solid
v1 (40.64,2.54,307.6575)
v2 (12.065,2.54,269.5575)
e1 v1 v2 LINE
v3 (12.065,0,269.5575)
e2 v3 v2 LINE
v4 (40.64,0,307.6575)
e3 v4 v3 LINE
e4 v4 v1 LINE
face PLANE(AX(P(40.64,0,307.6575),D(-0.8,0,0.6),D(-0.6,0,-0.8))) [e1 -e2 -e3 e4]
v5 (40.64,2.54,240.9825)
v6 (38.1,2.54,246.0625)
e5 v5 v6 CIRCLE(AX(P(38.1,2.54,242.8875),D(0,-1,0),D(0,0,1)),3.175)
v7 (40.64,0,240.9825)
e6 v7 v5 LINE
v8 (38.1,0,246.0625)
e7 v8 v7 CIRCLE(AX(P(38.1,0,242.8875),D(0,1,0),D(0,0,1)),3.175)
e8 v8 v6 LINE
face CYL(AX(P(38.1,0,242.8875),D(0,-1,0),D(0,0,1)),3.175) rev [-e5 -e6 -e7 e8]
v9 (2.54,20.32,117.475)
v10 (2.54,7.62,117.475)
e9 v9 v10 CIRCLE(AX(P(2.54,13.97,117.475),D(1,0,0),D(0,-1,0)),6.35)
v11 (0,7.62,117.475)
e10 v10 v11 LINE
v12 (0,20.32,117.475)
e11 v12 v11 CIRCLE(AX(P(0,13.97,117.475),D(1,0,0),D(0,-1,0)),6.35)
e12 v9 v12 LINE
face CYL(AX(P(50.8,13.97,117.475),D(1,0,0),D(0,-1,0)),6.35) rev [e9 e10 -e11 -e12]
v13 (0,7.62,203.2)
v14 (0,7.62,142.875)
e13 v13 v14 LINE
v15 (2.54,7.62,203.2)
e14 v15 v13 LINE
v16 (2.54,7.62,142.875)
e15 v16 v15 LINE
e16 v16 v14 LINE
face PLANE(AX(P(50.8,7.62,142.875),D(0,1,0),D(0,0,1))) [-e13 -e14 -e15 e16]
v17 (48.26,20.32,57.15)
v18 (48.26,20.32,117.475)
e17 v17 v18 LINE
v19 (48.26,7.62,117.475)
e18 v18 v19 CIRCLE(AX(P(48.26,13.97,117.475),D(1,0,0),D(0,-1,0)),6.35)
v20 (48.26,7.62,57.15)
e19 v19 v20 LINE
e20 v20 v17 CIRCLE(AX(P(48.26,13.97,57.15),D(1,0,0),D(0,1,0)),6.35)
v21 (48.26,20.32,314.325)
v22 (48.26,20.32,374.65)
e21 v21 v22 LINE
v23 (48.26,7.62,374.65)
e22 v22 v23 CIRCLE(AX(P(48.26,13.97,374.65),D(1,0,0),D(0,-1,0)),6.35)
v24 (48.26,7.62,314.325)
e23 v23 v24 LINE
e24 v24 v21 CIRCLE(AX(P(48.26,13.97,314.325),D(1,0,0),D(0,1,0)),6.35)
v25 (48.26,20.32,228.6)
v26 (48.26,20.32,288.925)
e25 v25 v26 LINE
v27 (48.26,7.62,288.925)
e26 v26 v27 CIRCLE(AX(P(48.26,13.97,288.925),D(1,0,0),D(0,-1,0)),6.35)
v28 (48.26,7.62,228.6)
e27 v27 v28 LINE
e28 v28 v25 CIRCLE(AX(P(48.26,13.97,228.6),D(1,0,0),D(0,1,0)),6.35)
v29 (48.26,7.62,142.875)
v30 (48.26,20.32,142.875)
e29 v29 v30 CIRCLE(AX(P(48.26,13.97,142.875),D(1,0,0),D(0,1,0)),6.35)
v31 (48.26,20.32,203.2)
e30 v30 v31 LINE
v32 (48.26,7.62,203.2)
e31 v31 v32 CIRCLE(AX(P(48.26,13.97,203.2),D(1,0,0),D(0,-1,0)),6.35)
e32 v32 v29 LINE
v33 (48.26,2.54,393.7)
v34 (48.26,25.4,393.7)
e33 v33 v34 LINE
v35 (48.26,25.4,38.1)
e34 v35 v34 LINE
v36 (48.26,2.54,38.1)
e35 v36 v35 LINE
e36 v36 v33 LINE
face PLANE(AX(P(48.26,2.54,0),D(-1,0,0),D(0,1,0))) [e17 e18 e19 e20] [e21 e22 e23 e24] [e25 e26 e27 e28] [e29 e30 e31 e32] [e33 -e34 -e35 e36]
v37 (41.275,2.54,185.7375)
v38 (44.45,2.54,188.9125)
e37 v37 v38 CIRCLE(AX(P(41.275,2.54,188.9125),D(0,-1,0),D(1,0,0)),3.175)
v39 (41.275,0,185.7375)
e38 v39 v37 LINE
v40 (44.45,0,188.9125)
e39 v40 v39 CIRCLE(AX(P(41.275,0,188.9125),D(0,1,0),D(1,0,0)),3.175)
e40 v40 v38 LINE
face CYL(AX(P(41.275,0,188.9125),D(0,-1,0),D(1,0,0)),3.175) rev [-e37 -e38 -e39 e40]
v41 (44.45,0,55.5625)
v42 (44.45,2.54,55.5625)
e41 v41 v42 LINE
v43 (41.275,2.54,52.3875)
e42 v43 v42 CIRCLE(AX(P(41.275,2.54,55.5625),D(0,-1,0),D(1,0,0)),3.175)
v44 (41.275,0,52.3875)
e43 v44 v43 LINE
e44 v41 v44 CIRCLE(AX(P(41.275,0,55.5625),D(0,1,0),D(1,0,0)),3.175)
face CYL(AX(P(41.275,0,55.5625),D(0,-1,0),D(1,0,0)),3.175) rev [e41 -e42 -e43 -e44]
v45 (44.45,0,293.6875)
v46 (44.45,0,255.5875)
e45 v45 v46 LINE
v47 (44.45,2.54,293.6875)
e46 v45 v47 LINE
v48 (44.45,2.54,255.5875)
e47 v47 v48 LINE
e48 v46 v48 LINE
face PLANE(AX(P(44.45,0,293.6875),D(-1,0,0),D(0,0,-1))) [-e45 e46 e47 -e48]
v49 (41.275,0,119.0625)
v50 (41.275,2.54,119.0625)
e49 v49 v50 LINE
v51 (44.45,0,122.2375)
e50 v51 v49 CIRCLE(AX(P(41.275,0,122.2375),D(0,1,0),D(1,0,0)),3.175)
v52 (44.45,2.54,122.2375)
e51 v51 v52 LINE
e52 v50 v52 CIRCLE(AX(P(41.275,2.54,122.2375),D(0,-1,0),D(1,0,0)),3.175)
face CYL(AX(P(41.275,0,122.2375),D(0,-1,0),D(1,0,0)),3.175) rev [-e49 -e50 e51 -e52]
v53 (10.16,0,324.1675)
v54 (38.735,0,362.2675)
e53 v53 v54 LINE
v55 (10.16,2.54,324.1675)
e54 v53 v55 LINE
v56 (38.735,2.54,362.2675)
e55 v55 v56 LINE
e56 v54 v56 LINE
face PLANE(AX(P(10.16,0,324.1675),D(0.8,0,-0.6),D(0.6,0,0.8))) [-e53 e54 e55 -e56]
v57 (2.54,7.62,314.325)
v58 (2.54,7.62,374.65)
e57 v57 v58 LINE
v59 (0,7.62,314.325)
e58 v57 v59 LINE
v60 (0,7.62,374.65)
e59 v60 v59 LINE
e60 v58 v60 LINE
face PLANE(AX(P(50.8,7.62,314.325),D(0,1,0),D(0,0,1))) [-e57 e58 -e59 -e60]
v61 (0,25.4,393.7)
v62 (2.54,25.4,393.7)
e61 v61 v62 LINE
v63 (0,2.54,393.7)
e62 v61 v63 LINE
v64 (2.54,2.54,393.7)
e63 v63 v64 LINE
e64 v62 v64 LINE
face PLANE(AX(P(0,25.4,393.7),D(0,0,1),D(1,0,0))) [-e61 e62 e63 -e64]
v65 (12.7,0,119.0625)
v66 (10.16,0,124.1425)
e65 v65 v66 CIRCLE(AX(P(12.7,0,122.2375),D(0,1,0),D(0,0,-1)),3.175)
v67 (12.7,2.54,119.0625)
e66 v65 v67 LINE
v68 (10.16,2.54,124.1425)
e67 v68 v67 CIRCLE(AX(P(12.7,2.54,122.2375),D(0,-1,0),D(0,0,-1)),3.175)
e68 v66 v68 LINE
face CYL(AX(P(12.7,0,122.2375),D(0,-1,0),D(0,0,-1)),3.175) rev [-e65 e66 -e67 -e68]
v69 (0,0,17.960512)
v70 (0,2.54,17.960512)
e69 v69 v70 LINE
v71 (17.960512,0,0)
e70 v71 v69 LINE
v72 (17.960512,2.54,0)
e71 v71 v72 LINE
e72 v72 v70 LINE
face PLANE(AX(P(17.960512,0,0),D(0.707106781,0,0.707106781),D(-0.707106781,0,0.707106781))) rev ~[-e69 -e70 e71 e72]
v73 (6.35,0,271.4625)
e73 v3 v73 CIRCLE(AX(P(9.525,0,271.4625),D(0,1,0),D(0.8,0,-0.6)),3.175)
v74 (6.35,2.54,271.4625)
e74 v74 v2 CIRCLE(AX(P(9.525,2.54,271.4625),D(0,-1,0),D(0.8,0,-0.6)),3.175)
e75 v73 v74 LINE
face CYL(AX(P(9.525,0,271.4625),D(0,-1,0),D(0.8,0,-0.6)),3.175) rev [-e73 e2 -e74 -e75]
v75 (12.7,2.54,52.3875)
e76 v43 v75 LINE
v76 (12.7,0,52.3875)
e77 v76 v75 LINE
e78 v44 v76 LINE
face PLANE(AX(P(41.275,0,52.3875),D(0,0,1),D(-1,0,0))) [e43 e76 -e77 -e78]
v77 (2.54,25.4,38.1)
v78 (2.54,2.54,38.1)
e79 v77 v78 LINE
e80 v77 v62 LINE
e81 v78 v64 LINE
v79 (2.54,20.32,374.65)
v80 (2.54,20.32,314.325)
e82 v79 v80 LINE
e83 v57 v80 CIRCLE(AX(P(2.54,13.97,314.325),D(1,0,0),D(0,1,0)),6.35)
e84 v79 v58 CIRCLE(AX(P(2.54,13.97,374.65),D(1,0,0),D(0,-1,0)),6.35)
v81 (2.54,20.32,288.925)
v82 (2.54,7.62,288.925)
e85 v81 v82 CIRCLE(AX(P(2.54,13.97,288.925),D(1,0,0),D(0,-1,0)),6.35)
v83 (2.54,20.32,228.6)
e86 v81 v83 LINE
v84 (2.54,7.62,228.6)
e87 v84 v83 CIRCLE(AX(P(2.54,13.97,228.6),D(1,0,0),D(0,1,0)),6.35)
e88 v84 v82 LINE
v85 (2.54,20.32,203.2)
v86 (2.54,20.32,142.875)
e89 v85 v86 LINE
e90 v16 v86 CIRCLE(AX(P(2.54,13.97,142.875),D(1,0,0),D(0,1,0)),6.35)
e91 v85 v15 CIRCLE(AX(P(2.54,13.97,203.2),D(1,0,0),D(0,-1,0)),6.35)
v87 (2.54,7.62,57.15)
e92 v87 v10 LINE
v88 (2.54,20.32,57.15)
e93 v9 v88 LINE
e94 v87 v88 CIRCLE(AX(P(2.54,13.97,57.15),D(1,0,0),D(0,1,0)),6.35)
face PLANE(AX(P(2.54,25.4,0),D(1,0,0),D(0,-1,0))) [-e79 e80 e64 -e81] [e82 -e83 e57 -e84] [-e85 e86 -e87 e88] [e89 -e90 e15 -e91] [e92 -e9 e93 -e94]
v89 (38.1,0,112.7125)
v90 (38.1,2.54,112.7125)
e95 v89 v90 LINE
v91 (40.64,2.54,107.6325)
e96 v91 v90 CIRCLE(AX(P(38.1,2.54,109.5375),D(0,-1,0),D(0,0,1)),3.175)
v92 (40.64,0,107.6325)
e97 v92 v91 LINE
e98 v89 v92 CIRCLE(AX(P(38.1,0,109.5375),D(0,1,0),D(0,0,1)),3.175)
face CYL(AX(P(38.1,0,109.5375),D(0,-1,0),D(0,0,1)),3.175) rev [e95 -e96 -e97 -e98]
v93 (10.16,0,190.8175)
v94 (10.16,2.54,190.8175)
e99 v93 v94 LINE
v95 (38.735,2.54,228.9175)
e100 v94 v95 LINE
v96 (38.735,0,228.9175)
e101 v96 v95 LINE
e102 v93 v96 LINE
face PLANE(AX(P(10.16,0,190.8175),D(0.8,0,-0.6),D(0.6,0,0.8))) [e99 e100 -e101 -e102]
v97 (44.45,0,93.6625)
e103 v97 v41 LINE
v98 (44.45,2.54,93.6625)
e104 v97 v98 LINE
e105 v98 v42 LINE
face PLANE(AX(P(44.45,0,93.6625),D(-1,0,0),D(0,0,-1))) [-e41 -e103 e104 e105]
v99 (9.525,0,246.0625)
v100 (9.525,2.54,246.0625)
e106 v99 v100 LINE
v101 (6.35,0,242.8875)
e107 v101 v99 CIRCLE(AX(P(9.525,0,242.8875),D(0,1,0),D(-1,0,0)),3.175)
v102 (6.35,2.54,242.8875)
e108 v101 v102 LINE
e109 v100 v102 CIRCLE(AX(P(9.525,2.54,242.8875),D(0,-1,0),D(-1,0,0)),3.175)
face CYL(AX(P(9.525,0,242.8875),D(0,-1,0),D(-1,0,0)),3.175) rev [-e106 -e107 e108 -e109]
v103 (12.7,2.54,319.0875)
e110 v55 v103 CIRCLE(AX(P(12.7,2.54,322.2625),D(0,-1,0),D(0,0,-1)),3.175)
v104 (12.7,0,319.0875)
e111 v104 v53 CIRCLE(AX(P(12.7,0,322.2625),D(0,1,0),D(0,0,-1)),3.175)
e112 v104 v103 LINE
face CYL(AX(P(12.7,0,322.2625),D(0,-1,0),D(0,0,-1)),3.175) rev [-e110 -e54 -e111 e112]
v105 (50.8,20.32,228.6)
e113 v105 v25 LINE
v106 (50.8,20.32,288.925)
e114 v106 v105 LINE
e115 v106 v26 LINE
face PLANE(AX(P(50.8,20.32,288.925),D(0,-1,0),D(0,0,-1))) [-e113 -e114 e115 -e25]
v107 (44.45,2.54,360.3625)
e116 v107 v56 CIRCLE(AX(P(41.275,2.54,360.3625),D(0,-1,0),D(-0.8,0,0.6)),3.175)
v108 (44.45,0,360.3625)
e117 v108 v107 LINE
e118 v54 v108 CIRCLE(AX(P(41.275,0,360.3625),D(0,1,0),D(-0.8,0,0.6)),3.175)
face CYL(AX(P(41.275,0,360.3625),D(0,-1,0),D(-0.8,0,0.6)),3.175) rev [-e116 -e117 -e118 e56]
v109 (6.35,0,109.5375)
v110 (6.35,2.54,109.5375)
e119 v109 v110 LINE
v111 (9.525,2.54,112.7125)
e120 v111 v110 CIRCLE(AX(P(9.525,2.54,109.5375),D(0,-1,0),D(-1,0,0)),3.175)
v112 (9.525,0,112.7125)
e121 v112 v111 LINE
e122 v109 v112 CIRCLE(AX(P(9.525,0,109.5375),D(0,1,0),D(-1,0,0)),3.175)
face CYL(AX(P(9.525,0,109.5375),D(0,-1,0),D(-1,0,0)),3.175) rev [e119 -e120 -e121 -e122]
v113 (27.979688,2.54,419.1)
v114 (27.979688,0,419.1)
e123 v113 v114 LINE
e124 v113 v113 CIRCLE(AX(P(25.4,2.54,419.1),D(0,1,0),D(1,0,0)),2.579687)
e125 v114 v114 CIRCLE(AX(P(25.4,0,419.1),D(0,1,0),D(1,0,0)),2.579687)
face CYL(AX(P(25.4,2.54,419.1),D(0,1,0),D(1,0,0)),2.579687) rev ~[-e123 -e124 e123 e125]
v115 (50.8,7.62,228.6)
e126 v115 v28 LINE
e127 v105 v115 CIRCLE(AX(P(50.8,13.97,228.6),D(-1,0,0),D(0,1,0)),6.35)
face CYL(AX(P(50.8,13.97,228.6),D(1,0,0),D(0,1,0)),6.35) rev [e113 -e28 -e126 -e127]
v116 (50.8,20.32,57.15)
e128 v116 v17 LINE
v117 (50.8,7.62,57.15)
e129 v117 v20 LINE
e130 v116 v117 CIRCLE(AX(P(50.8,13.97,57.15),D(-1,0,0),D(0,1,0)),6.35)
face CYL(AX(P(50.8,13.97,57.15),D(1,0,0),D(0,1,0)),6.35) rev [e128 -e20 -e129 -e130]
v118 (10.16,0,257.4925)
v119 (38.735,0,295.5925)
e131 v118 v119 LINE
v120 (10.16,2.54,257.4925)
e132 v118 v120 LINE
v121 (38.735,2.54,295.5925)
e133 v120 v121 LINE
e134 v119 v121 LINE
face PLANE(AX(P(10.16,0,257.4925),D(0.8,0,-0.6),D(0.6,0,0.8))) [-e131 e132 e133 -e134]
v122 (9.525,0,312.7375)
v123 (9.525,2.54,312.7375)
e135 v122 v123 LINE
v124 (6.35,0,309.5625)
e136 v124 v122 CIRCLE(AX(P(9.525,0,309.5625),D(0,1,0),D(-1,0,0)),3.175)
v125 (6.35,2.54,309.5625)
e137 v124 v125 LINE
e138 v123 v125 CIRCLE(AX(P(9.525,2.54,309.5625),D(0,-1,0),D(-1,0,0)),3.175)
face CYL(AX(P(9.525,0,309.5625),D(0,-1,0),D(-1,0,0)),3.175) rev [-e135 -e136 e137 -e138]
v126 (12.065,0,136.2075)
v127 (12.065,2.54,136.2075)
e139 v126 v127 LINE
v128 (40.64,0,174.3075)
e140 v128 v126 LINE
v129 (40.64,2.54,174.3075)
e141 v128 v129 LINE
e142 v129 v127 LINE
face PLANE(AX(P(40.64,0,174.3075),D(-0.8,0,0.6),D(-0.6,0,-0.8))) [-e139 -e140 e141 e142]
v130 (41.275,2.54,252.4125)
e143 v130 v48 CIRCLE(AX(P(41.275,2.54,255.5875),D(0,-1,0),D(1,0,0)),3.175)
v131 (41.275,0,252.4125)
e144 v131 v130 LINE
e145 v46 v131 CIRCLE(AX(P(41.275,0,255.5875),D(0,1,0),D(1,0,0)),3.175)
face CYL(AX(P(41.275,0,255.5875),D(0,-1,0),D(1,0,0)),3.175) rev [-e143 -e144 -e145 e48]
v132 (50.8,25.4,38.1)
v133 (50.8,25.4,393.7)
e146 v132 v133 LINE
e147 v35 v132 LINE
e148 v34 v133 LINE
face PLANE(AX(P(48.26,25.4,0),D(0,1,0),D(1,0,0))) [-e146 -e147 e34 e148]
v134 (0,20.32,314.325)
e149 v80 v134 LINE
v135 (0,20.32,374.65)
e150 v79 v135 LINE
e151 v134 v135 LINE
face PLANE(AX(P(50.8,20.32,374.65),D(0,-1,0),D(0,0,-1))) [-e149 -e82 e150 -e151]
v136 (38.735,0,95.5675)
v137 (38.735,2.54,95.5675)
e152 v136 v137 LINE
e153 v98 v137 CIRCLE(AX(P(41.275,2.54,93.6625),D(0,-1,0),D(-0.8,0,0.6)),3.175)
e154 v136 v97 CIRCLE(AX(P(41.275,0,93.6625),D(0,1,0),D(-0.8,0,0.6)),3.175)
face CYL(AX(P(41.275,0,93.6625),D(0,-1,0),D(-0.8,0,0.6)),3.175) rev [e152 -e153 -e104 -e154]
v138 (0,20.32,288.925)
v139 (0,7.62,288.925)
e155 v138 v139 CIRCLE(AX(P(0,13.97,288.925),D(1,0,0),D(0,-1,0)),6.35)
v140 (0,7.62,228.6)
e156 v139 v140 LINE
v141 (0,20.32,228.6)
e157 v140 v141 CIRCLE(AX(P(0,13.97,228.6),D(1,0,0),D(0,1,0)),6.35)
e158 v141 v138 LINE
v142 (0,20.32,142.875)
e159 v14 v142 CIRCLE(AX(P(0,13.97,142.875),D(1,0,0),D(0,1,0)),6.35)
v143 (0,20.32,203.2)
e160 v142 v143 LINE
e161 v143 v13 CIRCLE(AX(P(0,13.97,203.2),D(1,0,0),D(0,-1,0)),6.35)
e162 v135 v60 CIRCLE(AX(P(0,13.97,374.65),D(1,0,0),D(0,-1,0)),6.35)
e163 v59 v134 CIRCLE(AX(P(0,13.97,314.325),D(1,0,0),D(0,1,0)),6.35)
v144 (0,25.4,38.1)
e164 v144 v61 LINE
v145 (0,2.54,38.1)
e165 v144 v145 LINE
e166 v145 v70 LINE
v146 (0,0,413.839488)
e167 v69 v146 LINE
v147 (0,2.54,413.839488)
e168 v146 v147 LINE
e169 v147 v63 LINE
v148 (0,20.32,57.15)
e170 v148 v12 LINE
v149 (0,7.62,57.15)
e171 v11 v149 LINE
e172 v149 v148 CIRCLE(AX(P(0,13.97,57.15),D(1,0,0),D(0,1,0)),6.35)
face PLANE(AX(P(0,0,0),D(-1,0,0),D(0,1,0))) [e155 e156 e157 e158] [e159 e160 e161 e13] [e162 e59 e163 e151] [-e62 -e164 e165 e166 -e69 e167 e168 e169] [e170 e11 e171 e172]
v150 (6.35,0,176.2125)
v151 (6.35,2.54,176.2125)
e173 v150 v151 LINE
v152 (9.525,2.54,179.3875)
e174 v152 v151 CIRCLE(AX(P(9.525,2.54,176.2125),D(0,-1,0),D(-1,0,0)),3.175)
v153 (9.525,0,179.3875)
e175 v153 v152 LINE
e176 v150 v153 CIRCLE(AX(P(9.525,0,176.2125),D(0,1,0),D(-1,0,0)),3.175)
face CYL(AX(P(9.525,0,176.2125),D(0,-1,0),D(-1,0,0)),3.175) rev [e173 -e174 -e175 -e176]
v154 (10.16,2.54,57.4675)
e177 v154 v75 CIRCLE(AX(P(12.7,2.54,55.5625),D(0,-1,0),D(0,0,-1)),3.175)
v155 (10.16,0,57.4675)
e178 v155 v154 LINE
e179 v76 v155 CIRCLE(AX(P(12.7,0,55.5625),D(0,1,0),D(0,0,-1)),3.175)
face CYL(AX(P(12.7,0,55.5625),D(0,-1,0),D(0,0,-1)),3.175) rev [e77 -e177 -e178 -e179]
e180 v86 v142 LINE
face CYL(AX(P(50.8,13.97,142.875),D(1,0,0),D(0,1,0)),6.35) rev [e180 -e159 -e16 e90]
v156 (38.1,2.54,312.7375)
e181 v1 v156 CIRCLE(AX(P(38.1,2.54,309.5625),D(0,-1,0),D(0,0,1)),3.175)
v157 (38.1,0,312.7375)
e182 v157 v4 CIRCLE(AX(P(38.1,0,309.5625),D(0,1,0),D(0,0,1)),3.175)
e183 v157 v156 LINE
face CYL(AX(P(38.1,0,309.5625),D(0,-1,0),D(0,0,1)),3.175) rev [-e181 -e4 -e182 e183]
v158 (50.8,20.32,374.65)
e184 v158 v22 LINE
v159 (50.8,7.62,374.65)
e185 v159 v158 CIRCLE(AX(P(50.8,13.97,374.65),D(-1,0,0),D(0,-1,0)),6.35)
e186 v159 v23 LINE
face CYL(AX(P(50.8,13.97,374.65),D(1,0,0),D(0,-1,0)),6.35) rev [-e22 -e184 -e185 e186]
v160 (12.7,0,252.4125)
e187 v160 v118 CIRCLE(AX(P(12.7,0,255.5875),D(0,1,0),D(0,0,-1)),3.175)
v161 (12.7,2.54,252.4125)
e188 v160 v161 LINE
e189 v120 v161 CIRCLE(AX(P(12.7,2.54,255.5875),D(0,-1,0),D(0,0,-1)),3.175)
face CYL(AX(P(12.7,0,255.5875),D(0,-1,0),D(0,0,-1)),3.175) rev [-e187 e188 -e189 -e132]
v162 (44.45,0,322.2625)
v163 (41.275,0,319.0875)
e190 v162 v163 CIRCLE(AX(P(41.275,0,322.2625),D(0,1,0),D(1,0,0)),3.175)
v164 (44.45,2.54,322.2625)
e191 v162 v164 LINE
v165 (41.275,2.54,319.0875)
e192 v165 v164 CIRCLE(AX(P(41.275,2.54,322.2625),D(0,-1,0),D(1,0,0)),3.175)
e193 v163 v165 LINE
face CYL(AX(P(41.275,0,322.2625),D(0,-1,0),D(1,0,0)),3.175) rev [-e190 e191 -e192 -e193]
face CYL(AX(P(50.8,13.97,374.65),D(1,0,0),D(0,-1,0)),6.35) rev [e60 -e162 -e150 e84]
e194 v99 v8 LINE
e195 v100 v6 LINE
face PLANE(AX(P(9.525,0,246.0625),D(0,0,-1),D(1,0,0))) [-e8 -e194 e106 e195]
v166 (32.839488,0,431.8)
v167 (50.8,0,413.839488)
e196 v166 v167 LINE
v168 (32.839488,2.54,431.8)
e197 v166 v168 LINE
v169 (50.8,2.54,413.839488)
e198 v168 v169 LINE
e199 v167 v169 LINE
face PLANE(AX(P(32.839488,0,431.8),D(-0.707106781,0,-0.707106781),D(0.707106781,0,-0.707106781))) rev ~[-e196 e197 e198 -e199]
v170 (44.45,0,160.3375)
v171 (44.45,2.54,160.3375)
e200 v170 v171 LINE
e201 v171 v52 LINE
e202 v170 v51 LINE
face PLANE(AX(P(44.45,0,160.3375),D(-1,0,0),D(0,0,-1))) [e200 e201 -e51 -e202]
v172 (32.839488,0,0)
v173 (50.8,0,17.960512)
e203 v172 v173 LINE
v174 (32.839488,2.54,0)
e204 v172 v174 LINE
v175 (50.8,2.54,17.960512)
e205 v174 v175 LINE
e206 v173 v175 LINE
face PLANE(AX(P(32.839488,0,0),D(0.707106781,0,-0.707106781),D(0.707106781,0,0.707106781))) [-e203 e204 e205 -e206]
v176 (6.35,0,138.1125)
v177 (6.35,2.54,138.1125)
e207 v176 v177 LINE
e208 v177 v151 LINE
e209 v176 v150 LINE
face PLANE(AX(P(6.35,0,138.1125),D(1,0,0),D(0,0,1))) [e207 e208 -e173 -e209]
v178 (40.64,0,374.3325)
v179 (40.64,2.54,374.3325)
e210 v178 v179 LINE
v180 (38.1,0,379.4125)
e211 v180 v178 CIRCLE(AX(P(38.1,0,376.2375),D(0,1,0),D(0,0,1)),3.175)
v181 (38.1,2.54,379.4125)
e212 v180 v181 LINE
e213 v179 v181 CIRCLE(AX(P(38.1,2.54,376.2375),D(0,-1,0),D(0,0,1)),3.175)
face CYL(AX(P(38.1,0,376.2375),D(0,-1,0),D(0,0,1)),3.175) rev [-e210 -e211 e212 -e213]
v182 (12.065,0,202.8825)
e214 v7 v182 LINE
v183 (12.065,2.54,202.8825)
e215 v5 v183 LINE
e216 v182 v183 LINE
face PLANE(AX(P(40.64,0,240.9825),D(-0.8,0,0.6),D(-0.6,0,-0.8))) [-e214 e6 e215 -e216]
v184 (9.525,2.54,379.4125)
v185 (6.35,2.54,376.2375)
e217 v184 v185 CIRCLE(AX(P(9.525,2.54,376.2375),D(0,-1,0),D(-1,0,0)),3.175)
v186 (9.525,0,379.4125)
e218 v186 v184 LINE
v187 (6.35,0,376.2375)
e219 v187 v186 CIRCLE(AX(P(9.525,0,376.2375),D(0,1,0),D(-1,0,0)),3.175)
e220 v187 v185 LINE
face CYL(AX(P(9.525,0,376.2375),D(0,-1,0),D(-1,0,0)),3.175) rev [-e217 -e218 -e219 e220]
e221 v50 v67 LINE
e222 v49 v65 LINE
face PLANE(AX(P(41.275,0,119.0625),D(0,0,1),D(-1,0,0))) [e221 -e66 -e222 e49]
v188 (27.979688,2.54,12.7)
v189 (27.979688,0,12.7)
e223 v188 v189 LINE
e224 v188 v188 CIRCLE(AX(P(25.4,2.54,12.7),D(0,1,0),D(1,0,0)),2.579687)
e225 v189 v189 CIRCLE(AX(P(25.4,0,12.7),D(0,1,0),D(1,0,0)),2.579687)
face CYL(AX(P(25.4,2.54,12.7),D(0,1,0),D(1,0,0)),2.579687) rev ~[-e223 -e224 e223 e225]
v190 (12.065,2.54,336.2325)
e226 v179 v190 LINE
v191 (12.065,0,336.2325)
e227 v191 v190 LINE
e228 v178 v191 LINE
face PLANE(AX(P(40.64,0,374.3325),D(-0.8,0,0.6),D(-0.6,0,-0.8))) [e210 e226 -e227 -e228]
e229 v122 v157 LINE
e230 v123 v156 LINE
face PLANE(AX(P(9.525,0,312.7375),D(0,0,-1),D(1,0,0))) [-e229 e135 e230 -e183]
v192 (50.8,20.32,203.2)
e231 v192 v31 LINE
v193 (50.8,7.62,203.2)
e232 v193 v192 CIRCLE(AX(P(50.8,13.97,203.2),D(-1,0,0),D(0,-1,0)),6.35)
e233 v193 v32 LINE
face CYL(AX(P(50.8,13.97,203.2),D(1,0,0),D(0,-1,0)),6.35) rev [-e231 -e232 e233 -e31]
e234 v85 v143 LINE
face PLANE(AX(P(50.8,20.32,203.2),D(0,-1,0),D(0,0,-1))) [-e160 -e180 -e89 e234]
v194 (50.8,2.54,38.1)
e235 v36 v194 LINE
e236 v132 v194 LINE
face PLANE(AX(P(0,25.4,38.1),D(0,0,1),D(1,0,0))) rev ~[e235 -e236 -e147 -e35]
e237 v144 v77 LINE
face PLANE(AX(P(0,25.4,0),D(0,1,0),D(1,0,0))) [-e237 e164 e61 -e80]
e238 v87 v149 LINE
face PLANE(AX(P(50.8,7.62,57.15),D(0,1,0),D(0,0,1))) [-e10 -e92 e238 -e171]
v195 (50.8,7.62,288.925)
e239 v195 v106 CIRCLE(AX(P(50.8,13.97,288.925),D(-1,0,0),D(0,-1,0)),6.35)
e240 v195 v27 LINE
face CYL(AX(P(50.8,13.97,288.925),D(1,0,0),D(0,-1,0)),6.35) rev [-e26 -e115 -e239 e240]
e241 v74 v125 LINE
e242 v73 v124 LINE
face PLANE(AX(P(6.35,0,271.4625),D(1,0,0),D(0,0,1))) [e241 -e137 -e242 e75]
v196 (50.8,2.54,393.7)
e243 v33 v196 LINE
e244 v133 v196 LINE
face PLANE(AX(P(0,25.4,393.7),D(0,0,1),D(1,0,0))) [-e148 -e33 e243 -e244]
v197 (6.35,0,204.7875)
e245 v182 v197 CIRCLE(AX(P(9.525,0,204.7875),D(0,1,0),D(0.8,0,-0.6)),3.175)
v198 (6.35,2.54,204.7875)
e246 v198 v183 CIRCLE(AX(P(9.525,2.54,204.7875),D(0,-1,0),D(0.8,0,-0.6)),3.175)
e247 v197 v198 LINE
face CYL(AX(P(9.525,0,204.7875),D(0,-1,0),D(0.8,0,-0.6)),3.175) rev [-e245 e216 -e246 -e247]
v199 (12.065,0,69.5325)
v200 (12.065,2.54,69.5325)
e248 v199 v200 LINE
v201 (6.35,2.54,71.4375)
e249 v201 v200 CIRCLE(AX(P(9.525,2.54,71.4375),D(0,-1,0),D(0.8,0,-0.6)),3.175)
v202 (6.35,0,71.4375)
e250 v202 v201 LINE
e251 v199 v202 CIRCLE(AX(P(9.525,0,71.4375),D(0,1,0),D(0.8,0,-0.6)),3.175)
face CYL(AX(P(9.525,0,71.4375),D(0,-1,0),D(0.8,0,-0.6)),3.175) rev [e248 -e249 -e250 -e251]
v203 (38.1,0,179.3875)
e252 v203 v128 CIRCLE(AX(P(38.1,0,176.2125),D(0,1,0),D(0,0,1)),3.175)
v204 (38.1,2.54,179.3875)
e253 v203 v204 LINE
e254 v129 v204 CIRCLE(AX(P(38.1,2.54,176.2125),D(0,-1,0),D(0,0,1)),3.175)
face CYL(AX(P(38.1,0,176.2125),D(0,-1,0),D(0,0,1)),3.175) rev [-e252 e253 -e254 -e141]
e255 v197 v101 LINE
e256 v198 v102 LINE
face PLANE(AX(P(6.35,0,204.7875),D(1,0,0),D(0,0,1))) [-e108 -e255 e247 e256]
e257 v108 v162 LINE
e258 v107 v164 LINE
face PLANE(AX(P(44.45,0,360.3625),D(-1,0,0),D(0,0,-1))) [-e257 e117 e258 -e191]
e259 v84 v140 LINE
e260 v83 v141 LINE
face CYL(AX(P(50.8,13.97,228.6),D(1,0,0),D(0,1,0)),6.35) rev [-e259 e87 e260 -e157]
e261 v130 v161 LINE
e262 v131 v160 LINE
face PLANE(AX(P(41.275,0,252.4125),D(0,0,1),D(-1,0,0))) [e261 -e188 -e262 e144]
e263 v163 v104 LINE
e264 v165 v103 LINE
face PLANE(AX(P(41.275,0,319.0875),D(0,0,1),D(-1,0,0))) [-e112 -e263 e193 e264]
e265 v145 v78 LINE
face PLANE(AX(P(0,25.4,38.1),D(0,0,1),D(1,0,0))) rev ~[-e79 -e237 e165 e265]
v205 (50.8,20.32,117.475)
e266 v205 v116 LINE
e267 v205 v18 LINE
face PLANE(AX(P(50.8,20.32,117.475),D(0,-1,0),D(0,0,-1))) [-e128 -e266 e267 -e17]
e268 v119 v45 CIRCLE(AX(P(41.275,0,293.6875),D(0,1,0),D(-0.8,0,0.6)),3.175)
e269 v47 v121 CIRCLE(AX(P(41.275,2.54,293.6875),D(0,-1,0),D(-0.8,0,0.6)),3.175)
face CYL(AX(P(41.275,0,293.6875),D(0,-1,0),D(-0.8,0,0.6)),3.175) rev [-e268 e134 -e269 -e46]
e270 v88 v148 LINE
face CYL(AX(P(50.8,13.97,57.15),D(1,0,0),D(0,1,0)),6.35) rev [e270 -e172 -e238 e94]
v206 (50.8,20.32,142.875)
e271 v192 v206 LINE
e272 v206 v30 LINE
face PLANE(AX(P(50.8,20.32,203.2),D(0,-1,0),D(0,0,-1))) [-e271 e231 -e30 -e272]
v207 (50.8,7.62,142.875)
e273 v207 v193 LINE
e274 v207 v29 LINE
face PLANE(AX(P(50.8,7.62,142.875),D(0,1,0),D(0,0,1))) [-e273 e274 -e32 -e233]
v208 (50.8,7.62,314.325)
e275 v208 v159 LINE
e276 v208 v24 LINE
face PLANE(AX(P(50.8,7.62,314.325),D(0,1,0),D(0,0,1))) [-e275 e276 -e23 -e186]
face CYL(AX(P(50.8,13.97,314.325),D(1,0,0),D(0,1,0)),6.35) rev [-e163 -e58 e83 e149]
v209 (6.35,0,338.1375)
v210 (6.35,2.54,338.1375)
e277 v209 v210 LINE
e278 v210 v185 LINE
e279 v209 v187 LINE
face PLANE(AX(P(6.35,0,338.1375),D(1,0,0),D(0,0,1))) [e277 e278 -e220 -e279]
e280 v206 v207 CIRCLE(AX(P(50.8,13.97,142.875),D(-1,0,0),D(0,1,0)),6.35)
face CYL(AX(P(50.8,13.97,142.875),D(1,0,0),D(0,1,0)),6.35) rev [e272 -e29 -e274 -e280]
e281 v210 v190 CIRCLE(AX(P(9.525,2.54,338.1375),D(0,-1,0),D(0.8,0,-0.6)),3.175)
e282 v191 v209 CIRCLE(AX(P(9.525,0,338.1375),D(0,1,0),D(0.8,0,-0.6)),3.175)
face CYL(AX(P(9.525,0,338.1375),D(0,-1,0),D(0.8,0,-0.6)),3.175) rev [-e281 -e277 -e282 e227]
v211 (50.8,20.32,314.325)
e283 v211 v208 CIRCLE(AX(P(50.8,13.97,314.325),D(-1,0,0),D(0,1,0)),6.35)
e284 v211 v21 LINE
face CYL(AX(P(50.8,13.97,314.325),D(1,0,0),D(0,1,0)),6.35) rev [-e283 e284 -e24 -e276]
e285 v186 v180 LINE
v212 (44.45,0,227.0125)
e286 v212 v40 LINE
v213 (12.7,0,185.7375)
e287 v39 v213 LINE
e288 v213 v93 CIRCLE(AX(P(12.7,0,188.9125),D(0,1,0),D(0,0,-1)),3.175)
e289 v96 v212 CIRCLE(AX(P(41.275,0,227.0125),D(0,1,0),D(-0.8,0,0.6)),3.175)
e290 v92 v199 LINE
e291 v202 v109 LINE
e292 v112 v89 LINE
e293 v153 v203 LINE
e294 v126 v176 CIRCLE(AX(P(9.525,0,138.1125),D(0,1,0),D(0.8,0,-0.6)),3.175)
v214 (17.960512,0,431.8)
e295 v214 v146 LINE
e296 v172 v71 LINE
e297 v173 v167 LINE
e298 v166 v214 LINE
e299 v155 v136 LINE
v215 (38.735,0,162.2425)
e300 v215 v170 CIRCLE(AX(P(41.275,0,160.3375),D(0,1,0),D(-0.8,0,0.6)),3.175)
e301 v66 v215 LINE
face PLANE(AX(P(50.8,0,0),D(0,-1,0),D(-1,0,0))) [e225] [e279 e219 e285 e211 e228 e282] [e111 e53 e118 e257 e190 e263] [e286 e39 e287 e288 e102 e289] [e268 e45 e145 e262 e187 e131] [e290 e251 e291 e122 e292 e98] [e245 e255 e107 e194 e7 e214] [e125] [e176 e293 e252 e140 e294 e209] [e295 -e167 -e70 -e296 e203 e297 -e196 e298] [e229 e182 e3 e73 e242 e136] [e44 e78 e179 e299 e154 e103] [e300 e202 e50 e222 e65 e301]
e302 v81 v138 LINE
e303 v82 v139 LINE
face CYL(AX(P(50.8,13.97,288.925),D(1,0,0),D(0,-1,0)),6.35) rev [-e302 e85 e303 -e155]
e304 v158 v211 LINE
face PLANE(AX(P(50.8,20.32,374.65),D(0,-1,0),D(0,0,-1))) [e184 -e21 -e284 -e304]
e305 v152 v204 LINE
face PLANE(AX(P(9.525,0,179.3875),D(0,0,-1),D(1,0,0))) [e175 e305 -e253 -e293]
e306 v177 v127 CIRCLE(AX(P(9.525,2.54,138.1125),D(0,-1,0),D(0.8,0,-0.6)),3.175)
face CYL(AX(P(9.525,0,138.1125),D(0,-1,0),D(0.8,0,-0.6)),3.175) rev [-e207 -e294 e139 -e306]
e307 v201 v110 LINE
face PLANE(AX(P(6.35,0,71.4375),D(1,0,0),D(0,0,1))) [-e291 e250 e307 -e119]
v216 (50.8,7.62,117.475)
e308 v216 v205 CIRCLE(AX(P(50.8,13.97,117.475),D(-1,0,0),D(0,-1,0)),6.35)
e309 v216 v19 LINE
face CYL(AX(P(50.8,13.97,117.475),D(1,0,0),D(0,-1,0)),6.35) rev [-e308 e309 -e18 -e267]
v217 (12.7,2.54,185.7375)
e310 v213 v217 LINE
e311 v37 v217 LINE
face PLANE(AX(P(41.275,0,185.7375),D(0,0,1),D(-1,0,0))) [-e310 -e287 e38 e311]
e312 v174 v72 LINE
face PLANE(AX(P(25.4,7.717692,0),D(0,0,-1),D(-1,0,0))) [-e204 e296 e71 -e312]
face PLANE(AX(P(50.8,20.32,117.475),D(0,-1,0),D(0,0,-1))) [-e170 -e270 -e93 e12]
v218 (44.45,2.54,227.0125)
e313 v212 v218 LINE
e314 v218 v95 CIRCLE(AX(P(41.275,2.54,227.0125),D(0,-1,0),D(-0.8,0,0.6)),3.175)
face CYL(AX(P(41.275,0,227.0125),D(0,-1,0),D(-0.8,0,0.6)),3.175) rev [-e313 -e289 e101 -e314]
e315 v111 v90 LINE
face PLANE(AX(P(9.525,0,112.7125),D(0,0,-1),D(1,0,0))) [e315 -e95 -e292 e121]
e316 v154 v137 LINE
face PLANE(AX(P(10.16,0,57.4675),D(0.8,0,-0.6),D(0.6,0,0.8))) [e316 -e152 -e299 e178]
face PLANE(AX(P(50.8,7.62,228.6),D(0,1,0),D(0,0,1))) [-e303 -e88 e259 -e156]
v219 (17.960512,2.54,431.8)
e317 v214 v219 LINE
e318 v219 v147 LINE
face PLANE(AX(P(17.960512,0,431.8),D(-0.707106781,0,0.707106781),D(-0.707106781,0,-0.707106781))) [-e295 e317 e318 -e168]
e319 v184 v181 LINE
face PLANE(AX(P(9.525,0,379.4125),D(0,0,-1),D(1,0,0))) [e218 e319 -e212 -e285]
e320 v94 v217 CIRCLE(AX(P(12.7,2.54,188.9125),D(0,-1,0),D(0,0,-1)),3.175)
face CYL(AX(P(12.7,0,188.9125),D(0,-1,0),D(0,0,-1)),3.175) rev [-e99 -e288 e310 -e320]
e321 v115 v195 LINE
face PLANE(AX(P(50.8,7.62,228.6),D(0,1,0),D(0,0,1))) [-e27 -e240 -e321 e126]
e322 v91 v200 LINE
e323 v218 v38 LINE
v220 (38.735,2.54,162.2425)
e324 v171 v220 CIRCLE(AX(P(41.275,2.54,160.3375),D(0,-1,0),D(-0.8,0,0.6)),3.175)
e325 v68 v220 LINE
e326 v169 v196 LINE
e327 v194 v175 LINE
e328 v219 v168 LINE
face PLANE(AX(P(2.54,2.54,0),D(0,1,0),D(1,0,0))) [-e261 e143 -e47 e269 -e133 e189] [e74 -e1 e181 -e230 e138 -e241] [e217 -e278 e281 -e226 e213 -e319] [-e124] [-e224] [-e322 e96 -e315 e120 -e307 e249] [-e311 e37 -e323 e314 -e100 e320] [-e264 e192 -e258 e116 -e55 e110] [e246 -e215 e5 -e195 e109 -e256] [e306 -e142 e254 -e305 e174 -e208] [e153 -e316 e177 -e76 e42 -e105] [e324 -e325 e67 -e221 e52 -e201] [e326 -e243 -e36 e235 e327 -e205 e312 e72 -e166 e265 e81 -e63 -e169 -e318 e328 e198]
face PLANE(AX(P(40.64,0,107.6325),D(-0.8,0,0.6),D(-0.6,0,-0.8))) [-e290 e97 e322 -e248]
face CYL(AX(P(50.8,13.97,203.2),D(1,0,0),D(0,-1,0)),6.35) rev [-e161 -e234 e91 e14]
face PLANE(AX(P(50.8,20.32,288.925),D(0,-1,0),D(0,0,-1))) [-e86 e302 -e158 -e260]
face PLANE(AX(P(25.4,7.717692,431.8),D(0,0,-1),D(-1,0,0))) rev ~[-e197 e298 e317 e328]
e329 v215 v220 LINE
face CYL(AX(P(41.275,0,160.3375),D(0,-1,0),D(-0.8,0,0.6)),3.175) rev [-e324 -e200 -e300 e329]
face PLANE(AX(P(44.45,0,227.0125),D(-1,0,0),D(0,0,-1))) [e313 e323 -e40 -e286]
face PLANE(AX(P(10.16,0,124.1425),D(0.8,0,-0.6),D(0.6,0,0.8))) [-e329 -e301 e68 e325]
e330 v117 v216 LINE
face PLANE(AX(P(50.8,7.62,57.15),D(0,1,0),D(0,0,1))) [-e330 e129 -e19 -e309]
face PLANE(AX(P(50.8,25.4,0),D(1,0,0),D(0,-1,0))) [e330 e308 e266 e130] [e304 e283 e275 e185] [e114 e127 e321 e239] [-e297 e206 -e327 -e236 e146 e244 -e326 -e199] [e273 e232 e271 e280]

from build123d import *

# Parameters (mm, degrees)
BOSS_EXTRUDE1_DEPTH   = 431.8
SKETCH2_W             = 50.8
SKETCH2_H             = 38.1
TABS_DEPTH            = 22.86
HOLES_REACH           = 4.54
SKETCH3_R             = 2.5796875
SLOTS_DEPTH           = 51.8
TRIG_HOLES_REACH      = 27.4
TAB_CORNER_CUTS_REACH = 27.4


with BuildPart() as part:
    # Sketch1 → Boss-Extrude1 (new body)
    with BuildSketch(Plane.XY):
        Polygon((48.26, 2.54), (48.26, 25.4), (50.8, 25.4), (50.8, 0), (0, 0), (0, 25.4), (2.54, 25.4), (2.54, 2.54), align=None)
    extrude(amount=BOSS_EXTRUDE1_DEPTH)

    # Sketch2 → Tabs (cut)
    with BuildSketch(Plane(origin=(0, 25.4, 0), x_dir=(1, 0, 0), z_dir=(0, 1, 0))):
        with Locations((25.4, -412.75)):
            Rectangle(SKETCH2_W, SKETCH2_H)
        with Locations((25.4, -19.05)):
            Rectangle(SKETCH2_W, SKETCH2_H)
    extrude(amount=-TABS_DEPTH, mode=Mode.SUBTRACT)

    # Sketch3 → Holes (cut, up to next)
    with BuildSketch(Plane(origin=(0, 2.54, 0), x_dir=(1, 0, 0), z_dir=(0, 1, 0)), mode=Mode.PRIVATE) as holes_sk1:
        with Locations((25.4, -419.1)):
            Circle(SKETCH3_R)
    holes_tool1 = extrude(holes_sk1.sketch, amount=-HOLES_REACH, mode=Mode.PRIVATE) & part.part
    add(holes_tool1.solids().sort_by_distance((25.4, 2.54, 419.1))[0], mode=Mode.SUBTRACT)
    # Sketch3 → Holes (cut, up to next)
    with BuildSketch(Plane(origin=(0, 2.54, 0), x_dir=(1, 0, 0), z_dir=(0, 1, 0)), mode=Mode.PRIVATE) as holes_sk2:
        with Locations((25.4, -12.7)):
            Circle(SKETCH3_R)
    holes_tool2 = extrude(holes_sk2.sketch, amount=-HOLES_REACH, mode=Mode.PRIVATE) & part.part
    add(holes_tool2.solids().sort_by_distance((25.4, 2.54, 12.7))[0], mode=Mode.SUBTRACT)

    # Sketch4 → Slots (cut, through all)
    with BuildSketch(Plane(origin=(50.8, 0, 0), x_dir=(0, 0, -1), z_dir=(1, 0, 0))):
        with BuildLine():
            Line((-57.15, 7.62), (-117.475, 7.62))
            ThreePointArc((-117.475, 7.62), (-123.825, 13.97), (-117.475, 20.32))
            Line((-117.475, 20.32), (-57.15, 20.32))
            ThreePointArc((-57.15, 20.32), (-50.8, 13.97), (-57.15, 7.62))
        make_face()
        with BuildLine():
            Line((-142.875, 7.62), (-203.2, 7.62))
            ThreePointArc((-203.2, 7.62), (-209.55, 13.97), (-203.2, 20.32))
            Line((-203.2, 20.32), (-142.875, 20.32))
            ThreePointArc((-142.875, 20.32), (-136.525, 13.97), (-142.875, 7.62))
        make_face()
        with BuildLine():
            Line((-228.6, 7.62), (-288.925, 7.62))
            ThreePointArc((-288.925, 7.62), (-295.275, 13.97), (-288.925, 20.32))
            Line((-288.925, 20.32), (-228.6, 20.32))
            ThreePointArc((-228.6, 20.32), (-222.25, 13.97), (-228.6, 7.62))
        make_face()
        with BuildLine():
            Line((-314.325, 7.62), (-374.65, 7.62))
            ThreePointArc((-374.65, 7.62), (-381, 13.97), (-374.65, 20.32))
            Line((-374.65, 20.32), (-314.325, 20.32))
            ThreePointArc((-314.325, 20.32), (-307.975, 13.97), (-314.325, 7.62))
        make_face()
    extrude(amount=-SLOTS_DEPTH, mode=Mode.SUBTRACT)

    # Sketch5 → Trig_Holes (cut, up to next)
    with BuildSketch(Plane.XZ, mode=Mode.PRIVATE) as trig_holes_sk1:
        with BuildLine():
            Line((41.275, 52.3875), (12.7, 52.3875))
            ThreePointArc((12.7, 52.3875), (9.860193669, 54.142596834), (10.16, 57.4675))
            Line((10.16, 57.4675), (38.735, 95.5675))
            ThreePointArc((38.735, 95.5675), (42.279023157, 96.674569471), (44.45, 93.6625))
            Line((44.45, 93.6625), (44.45, 55.5625))
            ThreePointArc((44.45, 55.5625), (43.52006403, 53.31743597), (41.275, 52.3875))
        make_face()
    trig_holes_tool1 = extrude(trig_holes_sk1.sketch, amount=-TRIG_HOLES_REACH, mode=Mode.PRIVATE) & part.part
    add(trig_holes_tool1.solids().sort_by_distance((31.731608, 0, 68.958649))[0], mode=Mode.SUBTRACT)
    # Sketch5 → Trig_Holes (cut, up to next)
    with BuildSketch(Plane.XZ, mode=Mode.PRIVATE) as trig_holes_sk2:
        with BuildLine():
            Line((9.525, 112.7125), (38.1, 112.7125))
            ThreePointArc((38.1, 112.7125), (40.939806331, 110.957403166), (40.64, 107.6325))
            Line((40.64, 107.6325), (12.065, 69.5325))
            ThreePointArc((12.065, 69.5325), (8.520976843, 68.425430529), (6.35, 71.4375))
            Line((6.35, 71.4375), (6.35, 109.5375))
            ThreePointArc((6.35, 109.5375), (7.27993597, 111.78256403), (9.525, 112.7125))
        make_face()
    trig_holes_tool2 = extrude(trig_holes_sk2.sketch, amount=-TRIG_HOLES_REACH, mode=Mode.PRIVATE) & part.part
    add(trig_holes_tool2.solids().sort_by_distance((19.068392, 0, 96.141351))[0], mode=Mode.SUBTRACT)
    # Sketch5 → Trig_Holes (cut, up to next)
    with BuildSketch(Plane.XZ, mode=Mode.PRIVATE) as trig_holes_sk3:
        with BuildLine():
            Line((41.275, 119.0625), (12.7, 119.0625))
            ThreePointArc((12.7, 119.0625), (9.860193669, 120.817596834), (10.16, 124.1425))
            Line((10.16, 124.1425), (38.735, 162.2425))
            ThreePointArc((38.735, 162.2425), (42.279023157, 163.349569471), (44.45, 160.3375))
            Line((44.45, 160.3375), (44.45, 122.2375))
            ThreePointArc((44.45, 122.2375), (43.52006403, 119.99243597), (41.275, 119.0625))
        make_face()
    trig_holes_tool3 = extrude(trig_holes_sk3.sketch, amount=-TRIG_HOLES_REACH, mode=Mode.PRIVATE) & part.part
    add(trig_holes_tool3.solids().sort_by_distance((31.731608, 0, 135.633649))[0], mode=Mode.SUBTRACT)
    # Sketch5 → Trig_Holes (cut, up to next)
    with BuildSketch(Plane.XZ, mode=Mode.PRIVATE) as trig_holes_sk4:
        with BuildLine():
            Line((9.525, 179.3875), (38.1, 179.3875))
            ThreePointArc((38.1, 179.3875), (40.939806331, 177.632403166), (40.64, 174.3075))
            Line((40.64, 174.3075), (12.065, 136.2075))
            ThreePointArc((12.065, 136.2075), (8.520976843, 135.100430529), (6.35, 138.1125))
            Line((6.35, 138.1125), (6.35, 176.2125))
            ThreePointArc((6.35, 176.2125), (7.27993597, 178.45756403), (9.525, 179.3875))
        make_face()
    trig_holes_tool4 = extrude(trig_holes_sk4.sketch, amount=-TRIG_HOLES_REACH, mode=Mode.PRIVATE) & part.part
    add(trig_holes_tool4.solids().sort_by_distance((19.068392, 0, 162.816351))[0], mode=Mode.SUBTRACT)
    # Sketch5 → Trig_Holes (cut, up to next)
    with BuildSketch(Plane.XZ, mode=Mode.PRIVATE) as trig_holes_sk5:
        with BuildLine():
            Line((41.275, 185.7375), (12.7, 185.7375))
            ThreePointArc((12.7, 185.7375), (9.860193669, 187.492596834), (10.16, 190.8175))
            Line((10.16, 190.8175), (38.735, 228.9175))
            ThreePointArc((38.735, 228.9175), (42.279023157, 230.024569471), (44.45, 227.0125))
            Line((44.45, 227.0125), (44.45, 188.9125))
            ThreePointArc((44.45, 188.9125), (43.52006403, 186.66743597), (41.275, 185.7375))
        make_face()
    trig_holes_tool5 = extrude(trig_holes_sk5.sketch, amount=-TRIG_HOLES_REACH, mode=Mode.PRIVATE) & part.part
    add(trig_holes_tool5.solids().sort_by_distance((31.731608, 0, 202.308649))[0], mode=Mode.SUBTRACT)
    # Sketch5 → Trig_Holes (cut, up to next)
    with BuildSketch(Plane.XZ, mode=Mode.PRIVATE) as trig_holes_sk6:
        with BuildLine():
            Line((9.525, 246.0625), (38.1, 246.0625))
            ThreePointArc((38.1, 246.0625), (40.939806331, 244.307403166), (40.64, 240.9825))
            Line((40.64, 240.9825), (12.065, 202.8825))
            ThreePointArc((12.065, 202.8825), (8.520976843, 201.775430529), (6.35, 204.7875))
            Line((6.35, 204.7875), (6.35, 242.8875))
            ThreePointArc((6.35, 242.8875), (7.27993597, 245.13256403), (9.525, 246.0625))
        make_face()
    trig_holes_tool6 = extrude(trig_holes_sk6.sketch, amount=-TRIG_HOLES_REACH, mode=Mode.PRIVATE) & part.part
    add(trig_holes_tool6.solids().sort_by_distance((19.068392, 0, 229.491351))[0], mode=Mode.SUBTRACT)
    # Sketch5 → Trig_Holes (cut, up to next)
    with BuildSketch(Plane.XZ, mode=Mode.PRIVATE) as trig_holes_sk7:
        with BuildLine():
            Line((41.275, 252.4125), (12.7, 252.4125))
            ThreePointArc((12.7, 252.4125), (9.860193669, 254.167596834), (10.16, 257.4925))
            Line((10.16, 257.4925), (38.735, 295.5925))
            ThreePointArc((38.735, 295.5925), (42.279023157, 296.699569471), (44.45, 293.6875))
            Line((44.45, 293.6875), (44.45, 255.5875))
            ThreePointArc((44.45, 255.5875), (43.52006403, 253.34243597), (41.275, 252.4125))
        make_face()
    trig_holes_tool7 = extrude(trig_holes_sk7.sketch, amount=-TRIG_HOLES_REACH, mode=Mode.PRIVATE) & part.part
    add(trig_holes_tool7.solids().sort_by_distance((31.731608, 0, 268.983649))[0], mode=Mode.SUBTRACT)
    # Sketch5 → Trig_Holes (cut, up to next)
    with BuildSketch(Plane.XZ, mode=Mode.PRIVATE) as trig_holes_sk8:
        with BuildLine():
            Line((9.525, 312.7375), (38.1, 312.7375))
            ThreePointArc((38.1, 312.7375), (40.939806331, 310.982403166), (40.64, 307.6575))
            Line((40.64, 307.6575), (12.065, 269.5575))
            ThreePointArc((12.065, 269.5575), (8.520976843, 268.450430529), (6.35, 271.4625))
            Line((6.35, 271.4625), (6.35, 309.5625))
            ThreePointArc((6.35, 309.5625), (7.27993597, 311.80756403), (9.525, 312.7375))
        make_face()
    trig_holes_tool8 = extrude(trig_holes_sk8.sketch, amount=-TRIG_HOLES_REACH, mode=Mode.PRIVATE) & part.part
    add(trig_holes_tool8.solids().sort_by_distance((19.068392, 0, 296.166351))[0], mode=Mode.SUBTRACT)
    # Sketch5 → Trig_Holes (cut, up to next)
    with BuildSketch(Plane.XZ, mode=Mode.PRIVATE) as trig_holes_sk9:
        with BuildLine():
            Line((41.275, 319.0875), (12.7, 319.0875))
            ThreePointArc((12.7, 319.0875), (9.860193669, 320.842596834), (10.16, 324.1675))
            Line((10.16, 324.1675), (38.735, 362.2675))
            ThreePointArc((38.735, 362.2675), (42.279023157, 363.374569471), (44.45, 360.3625))
            Line((44.45, 360.3625), (44.45, 322.2625))
            ThreePointArc((44.45, 322.2625), (43.52006403, 320.01743597), (41.275, 319.0875))
        make_face()
    trig_holes_tool9 = extrude(trig_holes_sk9.sketch, amount=-TRIG_HOLES_REACH, mode=Mode.PRIVATE) & part.part
    add(trig_holes_tool9.solids().sort_by_distance((31.731608, 0, 335.658649))[0], mode=Mode.SUBTRACT)
    # Sketch5 → Trig_Holes (cut, up to next)
    with BuildSketch(Plane.XZ, mode=Mode.PRIVATE) as trig_holes_sk10:
        with BuildLine():
            Line((9.525, 379.4125), (38.1, 379.4125))
            ThreePointArc((38.1, 379.4125), (40.939806331, 377.657403166), (40.64, 374.3325))
            Line((40.64, 374.3325), (12.065, 336.2325))
            ThreePointArc((12.065, 336.2325), (8.520976843, 335.125430529), (6.35, 338.1375))
            Line((6.35, 338.1375), (6.35, 376.2375))
            ThreePointArc((6.35, 376.2375), (7.27993597, 378.48256403), (9.525, 379.4125))
        make_face()
    trig_holes_tool10 = extrude(trig_holes_sk10.sketch, amount=-TRIG_HOLES_REACH, mode=Mode.PRIVATE) & part.part
    add(trig_holes_tool10.solids().sort_by_distance((19.068392, 0, 362.841351))[0], mode=Mode.SUBTRACT)

    # Sketch6 → Tab_Corner_Cuts (cut, up to next)
    with BuildSketch(Plane.XZ, mode=Mode.PRIVATE) as tab_corner_cuts_sk1:
        Polygon((32.839487758, 0), (50.8, 17.960512242), (50.8, 0), align=None)
    tab_corner_cuts_tool1 = extrude(tab_corner_cuts_sk1.sketch, amount=-TAB_CORNER_CUTS_REACH, mode=Mode.PRIVATE) & part.part
    add(tab_corner_cuts_tool1.solids().sort_by_distance((44.813163, 0, 5.986837))[0], mode=Mode.SUBTRACT)
    # Sketch6 → Tab_Corner_Cuts (cut, up to next)
    with BuildSketch(Plane.XZ, mode=Mode.PRIVATE) as tab_corner_cuts_sk2:
        Polygon((17.960512242, 0), (0, 17.960512242), (0, 0), align=None)
    tab_corner_cuts_tool2 = extrude(tab_corner_cuts_sk2.sketch, amount=-TAB_CORNER_CUTS_REACH, mode=Mode.PRIVATE) & part.part
    add(tab_corner_cuts_tool2.solids().sort_by_distance((5.986837, 0, 5.986837))[0], mode=Mode.SUBTRACT)
    # Sketch6 → Tab_Corner_Cuts (cut, up to next)
    with BuildSketch(Plane.XZ, mode=Mode.PRIVATE) as tab_corner_cuts_sk3:
        Polygon((32.839487758, 431.8), (50.8, 413.839487758), (50.8, 431.8), align=None)
    tab_corner_cuts_tool3 = extrude(tab_corner_cuts_sk3.sketch, amount=-TAB_CORNER_CUTS_REACH, mode=Mode.PRIVATE) & part.part
    add(tab_corner_cuts_tool3.solids().sort_by_distance((44.813163, 0, 425.813163))[0], mode=Mode.SUBTRACT)
    # Sketch6 → Tab_Corner_Cuts (cut, up to next)
    with BuildSketch(Plane.XZ, mode=Mode.PRIVATE) as tab_corner_cuts_sk4:
        Polygon((17.960512242, 431.8), (0, 413.839487758), (0, 431.8), align=None)
    tab_corner_cuts_tool4 = extrude(tab_corner_cuts_sk4.sketch, amount=-TAB_CORNER_CUTS_REACH, mode=Mode.PRIVATE) & part.part
    add(tab_corner_cuts_tool4.solids().sort_by_distance((5.986837, 0, 425.813163))[0], mode=Mode.SUBTRACT)


solid = part.part
